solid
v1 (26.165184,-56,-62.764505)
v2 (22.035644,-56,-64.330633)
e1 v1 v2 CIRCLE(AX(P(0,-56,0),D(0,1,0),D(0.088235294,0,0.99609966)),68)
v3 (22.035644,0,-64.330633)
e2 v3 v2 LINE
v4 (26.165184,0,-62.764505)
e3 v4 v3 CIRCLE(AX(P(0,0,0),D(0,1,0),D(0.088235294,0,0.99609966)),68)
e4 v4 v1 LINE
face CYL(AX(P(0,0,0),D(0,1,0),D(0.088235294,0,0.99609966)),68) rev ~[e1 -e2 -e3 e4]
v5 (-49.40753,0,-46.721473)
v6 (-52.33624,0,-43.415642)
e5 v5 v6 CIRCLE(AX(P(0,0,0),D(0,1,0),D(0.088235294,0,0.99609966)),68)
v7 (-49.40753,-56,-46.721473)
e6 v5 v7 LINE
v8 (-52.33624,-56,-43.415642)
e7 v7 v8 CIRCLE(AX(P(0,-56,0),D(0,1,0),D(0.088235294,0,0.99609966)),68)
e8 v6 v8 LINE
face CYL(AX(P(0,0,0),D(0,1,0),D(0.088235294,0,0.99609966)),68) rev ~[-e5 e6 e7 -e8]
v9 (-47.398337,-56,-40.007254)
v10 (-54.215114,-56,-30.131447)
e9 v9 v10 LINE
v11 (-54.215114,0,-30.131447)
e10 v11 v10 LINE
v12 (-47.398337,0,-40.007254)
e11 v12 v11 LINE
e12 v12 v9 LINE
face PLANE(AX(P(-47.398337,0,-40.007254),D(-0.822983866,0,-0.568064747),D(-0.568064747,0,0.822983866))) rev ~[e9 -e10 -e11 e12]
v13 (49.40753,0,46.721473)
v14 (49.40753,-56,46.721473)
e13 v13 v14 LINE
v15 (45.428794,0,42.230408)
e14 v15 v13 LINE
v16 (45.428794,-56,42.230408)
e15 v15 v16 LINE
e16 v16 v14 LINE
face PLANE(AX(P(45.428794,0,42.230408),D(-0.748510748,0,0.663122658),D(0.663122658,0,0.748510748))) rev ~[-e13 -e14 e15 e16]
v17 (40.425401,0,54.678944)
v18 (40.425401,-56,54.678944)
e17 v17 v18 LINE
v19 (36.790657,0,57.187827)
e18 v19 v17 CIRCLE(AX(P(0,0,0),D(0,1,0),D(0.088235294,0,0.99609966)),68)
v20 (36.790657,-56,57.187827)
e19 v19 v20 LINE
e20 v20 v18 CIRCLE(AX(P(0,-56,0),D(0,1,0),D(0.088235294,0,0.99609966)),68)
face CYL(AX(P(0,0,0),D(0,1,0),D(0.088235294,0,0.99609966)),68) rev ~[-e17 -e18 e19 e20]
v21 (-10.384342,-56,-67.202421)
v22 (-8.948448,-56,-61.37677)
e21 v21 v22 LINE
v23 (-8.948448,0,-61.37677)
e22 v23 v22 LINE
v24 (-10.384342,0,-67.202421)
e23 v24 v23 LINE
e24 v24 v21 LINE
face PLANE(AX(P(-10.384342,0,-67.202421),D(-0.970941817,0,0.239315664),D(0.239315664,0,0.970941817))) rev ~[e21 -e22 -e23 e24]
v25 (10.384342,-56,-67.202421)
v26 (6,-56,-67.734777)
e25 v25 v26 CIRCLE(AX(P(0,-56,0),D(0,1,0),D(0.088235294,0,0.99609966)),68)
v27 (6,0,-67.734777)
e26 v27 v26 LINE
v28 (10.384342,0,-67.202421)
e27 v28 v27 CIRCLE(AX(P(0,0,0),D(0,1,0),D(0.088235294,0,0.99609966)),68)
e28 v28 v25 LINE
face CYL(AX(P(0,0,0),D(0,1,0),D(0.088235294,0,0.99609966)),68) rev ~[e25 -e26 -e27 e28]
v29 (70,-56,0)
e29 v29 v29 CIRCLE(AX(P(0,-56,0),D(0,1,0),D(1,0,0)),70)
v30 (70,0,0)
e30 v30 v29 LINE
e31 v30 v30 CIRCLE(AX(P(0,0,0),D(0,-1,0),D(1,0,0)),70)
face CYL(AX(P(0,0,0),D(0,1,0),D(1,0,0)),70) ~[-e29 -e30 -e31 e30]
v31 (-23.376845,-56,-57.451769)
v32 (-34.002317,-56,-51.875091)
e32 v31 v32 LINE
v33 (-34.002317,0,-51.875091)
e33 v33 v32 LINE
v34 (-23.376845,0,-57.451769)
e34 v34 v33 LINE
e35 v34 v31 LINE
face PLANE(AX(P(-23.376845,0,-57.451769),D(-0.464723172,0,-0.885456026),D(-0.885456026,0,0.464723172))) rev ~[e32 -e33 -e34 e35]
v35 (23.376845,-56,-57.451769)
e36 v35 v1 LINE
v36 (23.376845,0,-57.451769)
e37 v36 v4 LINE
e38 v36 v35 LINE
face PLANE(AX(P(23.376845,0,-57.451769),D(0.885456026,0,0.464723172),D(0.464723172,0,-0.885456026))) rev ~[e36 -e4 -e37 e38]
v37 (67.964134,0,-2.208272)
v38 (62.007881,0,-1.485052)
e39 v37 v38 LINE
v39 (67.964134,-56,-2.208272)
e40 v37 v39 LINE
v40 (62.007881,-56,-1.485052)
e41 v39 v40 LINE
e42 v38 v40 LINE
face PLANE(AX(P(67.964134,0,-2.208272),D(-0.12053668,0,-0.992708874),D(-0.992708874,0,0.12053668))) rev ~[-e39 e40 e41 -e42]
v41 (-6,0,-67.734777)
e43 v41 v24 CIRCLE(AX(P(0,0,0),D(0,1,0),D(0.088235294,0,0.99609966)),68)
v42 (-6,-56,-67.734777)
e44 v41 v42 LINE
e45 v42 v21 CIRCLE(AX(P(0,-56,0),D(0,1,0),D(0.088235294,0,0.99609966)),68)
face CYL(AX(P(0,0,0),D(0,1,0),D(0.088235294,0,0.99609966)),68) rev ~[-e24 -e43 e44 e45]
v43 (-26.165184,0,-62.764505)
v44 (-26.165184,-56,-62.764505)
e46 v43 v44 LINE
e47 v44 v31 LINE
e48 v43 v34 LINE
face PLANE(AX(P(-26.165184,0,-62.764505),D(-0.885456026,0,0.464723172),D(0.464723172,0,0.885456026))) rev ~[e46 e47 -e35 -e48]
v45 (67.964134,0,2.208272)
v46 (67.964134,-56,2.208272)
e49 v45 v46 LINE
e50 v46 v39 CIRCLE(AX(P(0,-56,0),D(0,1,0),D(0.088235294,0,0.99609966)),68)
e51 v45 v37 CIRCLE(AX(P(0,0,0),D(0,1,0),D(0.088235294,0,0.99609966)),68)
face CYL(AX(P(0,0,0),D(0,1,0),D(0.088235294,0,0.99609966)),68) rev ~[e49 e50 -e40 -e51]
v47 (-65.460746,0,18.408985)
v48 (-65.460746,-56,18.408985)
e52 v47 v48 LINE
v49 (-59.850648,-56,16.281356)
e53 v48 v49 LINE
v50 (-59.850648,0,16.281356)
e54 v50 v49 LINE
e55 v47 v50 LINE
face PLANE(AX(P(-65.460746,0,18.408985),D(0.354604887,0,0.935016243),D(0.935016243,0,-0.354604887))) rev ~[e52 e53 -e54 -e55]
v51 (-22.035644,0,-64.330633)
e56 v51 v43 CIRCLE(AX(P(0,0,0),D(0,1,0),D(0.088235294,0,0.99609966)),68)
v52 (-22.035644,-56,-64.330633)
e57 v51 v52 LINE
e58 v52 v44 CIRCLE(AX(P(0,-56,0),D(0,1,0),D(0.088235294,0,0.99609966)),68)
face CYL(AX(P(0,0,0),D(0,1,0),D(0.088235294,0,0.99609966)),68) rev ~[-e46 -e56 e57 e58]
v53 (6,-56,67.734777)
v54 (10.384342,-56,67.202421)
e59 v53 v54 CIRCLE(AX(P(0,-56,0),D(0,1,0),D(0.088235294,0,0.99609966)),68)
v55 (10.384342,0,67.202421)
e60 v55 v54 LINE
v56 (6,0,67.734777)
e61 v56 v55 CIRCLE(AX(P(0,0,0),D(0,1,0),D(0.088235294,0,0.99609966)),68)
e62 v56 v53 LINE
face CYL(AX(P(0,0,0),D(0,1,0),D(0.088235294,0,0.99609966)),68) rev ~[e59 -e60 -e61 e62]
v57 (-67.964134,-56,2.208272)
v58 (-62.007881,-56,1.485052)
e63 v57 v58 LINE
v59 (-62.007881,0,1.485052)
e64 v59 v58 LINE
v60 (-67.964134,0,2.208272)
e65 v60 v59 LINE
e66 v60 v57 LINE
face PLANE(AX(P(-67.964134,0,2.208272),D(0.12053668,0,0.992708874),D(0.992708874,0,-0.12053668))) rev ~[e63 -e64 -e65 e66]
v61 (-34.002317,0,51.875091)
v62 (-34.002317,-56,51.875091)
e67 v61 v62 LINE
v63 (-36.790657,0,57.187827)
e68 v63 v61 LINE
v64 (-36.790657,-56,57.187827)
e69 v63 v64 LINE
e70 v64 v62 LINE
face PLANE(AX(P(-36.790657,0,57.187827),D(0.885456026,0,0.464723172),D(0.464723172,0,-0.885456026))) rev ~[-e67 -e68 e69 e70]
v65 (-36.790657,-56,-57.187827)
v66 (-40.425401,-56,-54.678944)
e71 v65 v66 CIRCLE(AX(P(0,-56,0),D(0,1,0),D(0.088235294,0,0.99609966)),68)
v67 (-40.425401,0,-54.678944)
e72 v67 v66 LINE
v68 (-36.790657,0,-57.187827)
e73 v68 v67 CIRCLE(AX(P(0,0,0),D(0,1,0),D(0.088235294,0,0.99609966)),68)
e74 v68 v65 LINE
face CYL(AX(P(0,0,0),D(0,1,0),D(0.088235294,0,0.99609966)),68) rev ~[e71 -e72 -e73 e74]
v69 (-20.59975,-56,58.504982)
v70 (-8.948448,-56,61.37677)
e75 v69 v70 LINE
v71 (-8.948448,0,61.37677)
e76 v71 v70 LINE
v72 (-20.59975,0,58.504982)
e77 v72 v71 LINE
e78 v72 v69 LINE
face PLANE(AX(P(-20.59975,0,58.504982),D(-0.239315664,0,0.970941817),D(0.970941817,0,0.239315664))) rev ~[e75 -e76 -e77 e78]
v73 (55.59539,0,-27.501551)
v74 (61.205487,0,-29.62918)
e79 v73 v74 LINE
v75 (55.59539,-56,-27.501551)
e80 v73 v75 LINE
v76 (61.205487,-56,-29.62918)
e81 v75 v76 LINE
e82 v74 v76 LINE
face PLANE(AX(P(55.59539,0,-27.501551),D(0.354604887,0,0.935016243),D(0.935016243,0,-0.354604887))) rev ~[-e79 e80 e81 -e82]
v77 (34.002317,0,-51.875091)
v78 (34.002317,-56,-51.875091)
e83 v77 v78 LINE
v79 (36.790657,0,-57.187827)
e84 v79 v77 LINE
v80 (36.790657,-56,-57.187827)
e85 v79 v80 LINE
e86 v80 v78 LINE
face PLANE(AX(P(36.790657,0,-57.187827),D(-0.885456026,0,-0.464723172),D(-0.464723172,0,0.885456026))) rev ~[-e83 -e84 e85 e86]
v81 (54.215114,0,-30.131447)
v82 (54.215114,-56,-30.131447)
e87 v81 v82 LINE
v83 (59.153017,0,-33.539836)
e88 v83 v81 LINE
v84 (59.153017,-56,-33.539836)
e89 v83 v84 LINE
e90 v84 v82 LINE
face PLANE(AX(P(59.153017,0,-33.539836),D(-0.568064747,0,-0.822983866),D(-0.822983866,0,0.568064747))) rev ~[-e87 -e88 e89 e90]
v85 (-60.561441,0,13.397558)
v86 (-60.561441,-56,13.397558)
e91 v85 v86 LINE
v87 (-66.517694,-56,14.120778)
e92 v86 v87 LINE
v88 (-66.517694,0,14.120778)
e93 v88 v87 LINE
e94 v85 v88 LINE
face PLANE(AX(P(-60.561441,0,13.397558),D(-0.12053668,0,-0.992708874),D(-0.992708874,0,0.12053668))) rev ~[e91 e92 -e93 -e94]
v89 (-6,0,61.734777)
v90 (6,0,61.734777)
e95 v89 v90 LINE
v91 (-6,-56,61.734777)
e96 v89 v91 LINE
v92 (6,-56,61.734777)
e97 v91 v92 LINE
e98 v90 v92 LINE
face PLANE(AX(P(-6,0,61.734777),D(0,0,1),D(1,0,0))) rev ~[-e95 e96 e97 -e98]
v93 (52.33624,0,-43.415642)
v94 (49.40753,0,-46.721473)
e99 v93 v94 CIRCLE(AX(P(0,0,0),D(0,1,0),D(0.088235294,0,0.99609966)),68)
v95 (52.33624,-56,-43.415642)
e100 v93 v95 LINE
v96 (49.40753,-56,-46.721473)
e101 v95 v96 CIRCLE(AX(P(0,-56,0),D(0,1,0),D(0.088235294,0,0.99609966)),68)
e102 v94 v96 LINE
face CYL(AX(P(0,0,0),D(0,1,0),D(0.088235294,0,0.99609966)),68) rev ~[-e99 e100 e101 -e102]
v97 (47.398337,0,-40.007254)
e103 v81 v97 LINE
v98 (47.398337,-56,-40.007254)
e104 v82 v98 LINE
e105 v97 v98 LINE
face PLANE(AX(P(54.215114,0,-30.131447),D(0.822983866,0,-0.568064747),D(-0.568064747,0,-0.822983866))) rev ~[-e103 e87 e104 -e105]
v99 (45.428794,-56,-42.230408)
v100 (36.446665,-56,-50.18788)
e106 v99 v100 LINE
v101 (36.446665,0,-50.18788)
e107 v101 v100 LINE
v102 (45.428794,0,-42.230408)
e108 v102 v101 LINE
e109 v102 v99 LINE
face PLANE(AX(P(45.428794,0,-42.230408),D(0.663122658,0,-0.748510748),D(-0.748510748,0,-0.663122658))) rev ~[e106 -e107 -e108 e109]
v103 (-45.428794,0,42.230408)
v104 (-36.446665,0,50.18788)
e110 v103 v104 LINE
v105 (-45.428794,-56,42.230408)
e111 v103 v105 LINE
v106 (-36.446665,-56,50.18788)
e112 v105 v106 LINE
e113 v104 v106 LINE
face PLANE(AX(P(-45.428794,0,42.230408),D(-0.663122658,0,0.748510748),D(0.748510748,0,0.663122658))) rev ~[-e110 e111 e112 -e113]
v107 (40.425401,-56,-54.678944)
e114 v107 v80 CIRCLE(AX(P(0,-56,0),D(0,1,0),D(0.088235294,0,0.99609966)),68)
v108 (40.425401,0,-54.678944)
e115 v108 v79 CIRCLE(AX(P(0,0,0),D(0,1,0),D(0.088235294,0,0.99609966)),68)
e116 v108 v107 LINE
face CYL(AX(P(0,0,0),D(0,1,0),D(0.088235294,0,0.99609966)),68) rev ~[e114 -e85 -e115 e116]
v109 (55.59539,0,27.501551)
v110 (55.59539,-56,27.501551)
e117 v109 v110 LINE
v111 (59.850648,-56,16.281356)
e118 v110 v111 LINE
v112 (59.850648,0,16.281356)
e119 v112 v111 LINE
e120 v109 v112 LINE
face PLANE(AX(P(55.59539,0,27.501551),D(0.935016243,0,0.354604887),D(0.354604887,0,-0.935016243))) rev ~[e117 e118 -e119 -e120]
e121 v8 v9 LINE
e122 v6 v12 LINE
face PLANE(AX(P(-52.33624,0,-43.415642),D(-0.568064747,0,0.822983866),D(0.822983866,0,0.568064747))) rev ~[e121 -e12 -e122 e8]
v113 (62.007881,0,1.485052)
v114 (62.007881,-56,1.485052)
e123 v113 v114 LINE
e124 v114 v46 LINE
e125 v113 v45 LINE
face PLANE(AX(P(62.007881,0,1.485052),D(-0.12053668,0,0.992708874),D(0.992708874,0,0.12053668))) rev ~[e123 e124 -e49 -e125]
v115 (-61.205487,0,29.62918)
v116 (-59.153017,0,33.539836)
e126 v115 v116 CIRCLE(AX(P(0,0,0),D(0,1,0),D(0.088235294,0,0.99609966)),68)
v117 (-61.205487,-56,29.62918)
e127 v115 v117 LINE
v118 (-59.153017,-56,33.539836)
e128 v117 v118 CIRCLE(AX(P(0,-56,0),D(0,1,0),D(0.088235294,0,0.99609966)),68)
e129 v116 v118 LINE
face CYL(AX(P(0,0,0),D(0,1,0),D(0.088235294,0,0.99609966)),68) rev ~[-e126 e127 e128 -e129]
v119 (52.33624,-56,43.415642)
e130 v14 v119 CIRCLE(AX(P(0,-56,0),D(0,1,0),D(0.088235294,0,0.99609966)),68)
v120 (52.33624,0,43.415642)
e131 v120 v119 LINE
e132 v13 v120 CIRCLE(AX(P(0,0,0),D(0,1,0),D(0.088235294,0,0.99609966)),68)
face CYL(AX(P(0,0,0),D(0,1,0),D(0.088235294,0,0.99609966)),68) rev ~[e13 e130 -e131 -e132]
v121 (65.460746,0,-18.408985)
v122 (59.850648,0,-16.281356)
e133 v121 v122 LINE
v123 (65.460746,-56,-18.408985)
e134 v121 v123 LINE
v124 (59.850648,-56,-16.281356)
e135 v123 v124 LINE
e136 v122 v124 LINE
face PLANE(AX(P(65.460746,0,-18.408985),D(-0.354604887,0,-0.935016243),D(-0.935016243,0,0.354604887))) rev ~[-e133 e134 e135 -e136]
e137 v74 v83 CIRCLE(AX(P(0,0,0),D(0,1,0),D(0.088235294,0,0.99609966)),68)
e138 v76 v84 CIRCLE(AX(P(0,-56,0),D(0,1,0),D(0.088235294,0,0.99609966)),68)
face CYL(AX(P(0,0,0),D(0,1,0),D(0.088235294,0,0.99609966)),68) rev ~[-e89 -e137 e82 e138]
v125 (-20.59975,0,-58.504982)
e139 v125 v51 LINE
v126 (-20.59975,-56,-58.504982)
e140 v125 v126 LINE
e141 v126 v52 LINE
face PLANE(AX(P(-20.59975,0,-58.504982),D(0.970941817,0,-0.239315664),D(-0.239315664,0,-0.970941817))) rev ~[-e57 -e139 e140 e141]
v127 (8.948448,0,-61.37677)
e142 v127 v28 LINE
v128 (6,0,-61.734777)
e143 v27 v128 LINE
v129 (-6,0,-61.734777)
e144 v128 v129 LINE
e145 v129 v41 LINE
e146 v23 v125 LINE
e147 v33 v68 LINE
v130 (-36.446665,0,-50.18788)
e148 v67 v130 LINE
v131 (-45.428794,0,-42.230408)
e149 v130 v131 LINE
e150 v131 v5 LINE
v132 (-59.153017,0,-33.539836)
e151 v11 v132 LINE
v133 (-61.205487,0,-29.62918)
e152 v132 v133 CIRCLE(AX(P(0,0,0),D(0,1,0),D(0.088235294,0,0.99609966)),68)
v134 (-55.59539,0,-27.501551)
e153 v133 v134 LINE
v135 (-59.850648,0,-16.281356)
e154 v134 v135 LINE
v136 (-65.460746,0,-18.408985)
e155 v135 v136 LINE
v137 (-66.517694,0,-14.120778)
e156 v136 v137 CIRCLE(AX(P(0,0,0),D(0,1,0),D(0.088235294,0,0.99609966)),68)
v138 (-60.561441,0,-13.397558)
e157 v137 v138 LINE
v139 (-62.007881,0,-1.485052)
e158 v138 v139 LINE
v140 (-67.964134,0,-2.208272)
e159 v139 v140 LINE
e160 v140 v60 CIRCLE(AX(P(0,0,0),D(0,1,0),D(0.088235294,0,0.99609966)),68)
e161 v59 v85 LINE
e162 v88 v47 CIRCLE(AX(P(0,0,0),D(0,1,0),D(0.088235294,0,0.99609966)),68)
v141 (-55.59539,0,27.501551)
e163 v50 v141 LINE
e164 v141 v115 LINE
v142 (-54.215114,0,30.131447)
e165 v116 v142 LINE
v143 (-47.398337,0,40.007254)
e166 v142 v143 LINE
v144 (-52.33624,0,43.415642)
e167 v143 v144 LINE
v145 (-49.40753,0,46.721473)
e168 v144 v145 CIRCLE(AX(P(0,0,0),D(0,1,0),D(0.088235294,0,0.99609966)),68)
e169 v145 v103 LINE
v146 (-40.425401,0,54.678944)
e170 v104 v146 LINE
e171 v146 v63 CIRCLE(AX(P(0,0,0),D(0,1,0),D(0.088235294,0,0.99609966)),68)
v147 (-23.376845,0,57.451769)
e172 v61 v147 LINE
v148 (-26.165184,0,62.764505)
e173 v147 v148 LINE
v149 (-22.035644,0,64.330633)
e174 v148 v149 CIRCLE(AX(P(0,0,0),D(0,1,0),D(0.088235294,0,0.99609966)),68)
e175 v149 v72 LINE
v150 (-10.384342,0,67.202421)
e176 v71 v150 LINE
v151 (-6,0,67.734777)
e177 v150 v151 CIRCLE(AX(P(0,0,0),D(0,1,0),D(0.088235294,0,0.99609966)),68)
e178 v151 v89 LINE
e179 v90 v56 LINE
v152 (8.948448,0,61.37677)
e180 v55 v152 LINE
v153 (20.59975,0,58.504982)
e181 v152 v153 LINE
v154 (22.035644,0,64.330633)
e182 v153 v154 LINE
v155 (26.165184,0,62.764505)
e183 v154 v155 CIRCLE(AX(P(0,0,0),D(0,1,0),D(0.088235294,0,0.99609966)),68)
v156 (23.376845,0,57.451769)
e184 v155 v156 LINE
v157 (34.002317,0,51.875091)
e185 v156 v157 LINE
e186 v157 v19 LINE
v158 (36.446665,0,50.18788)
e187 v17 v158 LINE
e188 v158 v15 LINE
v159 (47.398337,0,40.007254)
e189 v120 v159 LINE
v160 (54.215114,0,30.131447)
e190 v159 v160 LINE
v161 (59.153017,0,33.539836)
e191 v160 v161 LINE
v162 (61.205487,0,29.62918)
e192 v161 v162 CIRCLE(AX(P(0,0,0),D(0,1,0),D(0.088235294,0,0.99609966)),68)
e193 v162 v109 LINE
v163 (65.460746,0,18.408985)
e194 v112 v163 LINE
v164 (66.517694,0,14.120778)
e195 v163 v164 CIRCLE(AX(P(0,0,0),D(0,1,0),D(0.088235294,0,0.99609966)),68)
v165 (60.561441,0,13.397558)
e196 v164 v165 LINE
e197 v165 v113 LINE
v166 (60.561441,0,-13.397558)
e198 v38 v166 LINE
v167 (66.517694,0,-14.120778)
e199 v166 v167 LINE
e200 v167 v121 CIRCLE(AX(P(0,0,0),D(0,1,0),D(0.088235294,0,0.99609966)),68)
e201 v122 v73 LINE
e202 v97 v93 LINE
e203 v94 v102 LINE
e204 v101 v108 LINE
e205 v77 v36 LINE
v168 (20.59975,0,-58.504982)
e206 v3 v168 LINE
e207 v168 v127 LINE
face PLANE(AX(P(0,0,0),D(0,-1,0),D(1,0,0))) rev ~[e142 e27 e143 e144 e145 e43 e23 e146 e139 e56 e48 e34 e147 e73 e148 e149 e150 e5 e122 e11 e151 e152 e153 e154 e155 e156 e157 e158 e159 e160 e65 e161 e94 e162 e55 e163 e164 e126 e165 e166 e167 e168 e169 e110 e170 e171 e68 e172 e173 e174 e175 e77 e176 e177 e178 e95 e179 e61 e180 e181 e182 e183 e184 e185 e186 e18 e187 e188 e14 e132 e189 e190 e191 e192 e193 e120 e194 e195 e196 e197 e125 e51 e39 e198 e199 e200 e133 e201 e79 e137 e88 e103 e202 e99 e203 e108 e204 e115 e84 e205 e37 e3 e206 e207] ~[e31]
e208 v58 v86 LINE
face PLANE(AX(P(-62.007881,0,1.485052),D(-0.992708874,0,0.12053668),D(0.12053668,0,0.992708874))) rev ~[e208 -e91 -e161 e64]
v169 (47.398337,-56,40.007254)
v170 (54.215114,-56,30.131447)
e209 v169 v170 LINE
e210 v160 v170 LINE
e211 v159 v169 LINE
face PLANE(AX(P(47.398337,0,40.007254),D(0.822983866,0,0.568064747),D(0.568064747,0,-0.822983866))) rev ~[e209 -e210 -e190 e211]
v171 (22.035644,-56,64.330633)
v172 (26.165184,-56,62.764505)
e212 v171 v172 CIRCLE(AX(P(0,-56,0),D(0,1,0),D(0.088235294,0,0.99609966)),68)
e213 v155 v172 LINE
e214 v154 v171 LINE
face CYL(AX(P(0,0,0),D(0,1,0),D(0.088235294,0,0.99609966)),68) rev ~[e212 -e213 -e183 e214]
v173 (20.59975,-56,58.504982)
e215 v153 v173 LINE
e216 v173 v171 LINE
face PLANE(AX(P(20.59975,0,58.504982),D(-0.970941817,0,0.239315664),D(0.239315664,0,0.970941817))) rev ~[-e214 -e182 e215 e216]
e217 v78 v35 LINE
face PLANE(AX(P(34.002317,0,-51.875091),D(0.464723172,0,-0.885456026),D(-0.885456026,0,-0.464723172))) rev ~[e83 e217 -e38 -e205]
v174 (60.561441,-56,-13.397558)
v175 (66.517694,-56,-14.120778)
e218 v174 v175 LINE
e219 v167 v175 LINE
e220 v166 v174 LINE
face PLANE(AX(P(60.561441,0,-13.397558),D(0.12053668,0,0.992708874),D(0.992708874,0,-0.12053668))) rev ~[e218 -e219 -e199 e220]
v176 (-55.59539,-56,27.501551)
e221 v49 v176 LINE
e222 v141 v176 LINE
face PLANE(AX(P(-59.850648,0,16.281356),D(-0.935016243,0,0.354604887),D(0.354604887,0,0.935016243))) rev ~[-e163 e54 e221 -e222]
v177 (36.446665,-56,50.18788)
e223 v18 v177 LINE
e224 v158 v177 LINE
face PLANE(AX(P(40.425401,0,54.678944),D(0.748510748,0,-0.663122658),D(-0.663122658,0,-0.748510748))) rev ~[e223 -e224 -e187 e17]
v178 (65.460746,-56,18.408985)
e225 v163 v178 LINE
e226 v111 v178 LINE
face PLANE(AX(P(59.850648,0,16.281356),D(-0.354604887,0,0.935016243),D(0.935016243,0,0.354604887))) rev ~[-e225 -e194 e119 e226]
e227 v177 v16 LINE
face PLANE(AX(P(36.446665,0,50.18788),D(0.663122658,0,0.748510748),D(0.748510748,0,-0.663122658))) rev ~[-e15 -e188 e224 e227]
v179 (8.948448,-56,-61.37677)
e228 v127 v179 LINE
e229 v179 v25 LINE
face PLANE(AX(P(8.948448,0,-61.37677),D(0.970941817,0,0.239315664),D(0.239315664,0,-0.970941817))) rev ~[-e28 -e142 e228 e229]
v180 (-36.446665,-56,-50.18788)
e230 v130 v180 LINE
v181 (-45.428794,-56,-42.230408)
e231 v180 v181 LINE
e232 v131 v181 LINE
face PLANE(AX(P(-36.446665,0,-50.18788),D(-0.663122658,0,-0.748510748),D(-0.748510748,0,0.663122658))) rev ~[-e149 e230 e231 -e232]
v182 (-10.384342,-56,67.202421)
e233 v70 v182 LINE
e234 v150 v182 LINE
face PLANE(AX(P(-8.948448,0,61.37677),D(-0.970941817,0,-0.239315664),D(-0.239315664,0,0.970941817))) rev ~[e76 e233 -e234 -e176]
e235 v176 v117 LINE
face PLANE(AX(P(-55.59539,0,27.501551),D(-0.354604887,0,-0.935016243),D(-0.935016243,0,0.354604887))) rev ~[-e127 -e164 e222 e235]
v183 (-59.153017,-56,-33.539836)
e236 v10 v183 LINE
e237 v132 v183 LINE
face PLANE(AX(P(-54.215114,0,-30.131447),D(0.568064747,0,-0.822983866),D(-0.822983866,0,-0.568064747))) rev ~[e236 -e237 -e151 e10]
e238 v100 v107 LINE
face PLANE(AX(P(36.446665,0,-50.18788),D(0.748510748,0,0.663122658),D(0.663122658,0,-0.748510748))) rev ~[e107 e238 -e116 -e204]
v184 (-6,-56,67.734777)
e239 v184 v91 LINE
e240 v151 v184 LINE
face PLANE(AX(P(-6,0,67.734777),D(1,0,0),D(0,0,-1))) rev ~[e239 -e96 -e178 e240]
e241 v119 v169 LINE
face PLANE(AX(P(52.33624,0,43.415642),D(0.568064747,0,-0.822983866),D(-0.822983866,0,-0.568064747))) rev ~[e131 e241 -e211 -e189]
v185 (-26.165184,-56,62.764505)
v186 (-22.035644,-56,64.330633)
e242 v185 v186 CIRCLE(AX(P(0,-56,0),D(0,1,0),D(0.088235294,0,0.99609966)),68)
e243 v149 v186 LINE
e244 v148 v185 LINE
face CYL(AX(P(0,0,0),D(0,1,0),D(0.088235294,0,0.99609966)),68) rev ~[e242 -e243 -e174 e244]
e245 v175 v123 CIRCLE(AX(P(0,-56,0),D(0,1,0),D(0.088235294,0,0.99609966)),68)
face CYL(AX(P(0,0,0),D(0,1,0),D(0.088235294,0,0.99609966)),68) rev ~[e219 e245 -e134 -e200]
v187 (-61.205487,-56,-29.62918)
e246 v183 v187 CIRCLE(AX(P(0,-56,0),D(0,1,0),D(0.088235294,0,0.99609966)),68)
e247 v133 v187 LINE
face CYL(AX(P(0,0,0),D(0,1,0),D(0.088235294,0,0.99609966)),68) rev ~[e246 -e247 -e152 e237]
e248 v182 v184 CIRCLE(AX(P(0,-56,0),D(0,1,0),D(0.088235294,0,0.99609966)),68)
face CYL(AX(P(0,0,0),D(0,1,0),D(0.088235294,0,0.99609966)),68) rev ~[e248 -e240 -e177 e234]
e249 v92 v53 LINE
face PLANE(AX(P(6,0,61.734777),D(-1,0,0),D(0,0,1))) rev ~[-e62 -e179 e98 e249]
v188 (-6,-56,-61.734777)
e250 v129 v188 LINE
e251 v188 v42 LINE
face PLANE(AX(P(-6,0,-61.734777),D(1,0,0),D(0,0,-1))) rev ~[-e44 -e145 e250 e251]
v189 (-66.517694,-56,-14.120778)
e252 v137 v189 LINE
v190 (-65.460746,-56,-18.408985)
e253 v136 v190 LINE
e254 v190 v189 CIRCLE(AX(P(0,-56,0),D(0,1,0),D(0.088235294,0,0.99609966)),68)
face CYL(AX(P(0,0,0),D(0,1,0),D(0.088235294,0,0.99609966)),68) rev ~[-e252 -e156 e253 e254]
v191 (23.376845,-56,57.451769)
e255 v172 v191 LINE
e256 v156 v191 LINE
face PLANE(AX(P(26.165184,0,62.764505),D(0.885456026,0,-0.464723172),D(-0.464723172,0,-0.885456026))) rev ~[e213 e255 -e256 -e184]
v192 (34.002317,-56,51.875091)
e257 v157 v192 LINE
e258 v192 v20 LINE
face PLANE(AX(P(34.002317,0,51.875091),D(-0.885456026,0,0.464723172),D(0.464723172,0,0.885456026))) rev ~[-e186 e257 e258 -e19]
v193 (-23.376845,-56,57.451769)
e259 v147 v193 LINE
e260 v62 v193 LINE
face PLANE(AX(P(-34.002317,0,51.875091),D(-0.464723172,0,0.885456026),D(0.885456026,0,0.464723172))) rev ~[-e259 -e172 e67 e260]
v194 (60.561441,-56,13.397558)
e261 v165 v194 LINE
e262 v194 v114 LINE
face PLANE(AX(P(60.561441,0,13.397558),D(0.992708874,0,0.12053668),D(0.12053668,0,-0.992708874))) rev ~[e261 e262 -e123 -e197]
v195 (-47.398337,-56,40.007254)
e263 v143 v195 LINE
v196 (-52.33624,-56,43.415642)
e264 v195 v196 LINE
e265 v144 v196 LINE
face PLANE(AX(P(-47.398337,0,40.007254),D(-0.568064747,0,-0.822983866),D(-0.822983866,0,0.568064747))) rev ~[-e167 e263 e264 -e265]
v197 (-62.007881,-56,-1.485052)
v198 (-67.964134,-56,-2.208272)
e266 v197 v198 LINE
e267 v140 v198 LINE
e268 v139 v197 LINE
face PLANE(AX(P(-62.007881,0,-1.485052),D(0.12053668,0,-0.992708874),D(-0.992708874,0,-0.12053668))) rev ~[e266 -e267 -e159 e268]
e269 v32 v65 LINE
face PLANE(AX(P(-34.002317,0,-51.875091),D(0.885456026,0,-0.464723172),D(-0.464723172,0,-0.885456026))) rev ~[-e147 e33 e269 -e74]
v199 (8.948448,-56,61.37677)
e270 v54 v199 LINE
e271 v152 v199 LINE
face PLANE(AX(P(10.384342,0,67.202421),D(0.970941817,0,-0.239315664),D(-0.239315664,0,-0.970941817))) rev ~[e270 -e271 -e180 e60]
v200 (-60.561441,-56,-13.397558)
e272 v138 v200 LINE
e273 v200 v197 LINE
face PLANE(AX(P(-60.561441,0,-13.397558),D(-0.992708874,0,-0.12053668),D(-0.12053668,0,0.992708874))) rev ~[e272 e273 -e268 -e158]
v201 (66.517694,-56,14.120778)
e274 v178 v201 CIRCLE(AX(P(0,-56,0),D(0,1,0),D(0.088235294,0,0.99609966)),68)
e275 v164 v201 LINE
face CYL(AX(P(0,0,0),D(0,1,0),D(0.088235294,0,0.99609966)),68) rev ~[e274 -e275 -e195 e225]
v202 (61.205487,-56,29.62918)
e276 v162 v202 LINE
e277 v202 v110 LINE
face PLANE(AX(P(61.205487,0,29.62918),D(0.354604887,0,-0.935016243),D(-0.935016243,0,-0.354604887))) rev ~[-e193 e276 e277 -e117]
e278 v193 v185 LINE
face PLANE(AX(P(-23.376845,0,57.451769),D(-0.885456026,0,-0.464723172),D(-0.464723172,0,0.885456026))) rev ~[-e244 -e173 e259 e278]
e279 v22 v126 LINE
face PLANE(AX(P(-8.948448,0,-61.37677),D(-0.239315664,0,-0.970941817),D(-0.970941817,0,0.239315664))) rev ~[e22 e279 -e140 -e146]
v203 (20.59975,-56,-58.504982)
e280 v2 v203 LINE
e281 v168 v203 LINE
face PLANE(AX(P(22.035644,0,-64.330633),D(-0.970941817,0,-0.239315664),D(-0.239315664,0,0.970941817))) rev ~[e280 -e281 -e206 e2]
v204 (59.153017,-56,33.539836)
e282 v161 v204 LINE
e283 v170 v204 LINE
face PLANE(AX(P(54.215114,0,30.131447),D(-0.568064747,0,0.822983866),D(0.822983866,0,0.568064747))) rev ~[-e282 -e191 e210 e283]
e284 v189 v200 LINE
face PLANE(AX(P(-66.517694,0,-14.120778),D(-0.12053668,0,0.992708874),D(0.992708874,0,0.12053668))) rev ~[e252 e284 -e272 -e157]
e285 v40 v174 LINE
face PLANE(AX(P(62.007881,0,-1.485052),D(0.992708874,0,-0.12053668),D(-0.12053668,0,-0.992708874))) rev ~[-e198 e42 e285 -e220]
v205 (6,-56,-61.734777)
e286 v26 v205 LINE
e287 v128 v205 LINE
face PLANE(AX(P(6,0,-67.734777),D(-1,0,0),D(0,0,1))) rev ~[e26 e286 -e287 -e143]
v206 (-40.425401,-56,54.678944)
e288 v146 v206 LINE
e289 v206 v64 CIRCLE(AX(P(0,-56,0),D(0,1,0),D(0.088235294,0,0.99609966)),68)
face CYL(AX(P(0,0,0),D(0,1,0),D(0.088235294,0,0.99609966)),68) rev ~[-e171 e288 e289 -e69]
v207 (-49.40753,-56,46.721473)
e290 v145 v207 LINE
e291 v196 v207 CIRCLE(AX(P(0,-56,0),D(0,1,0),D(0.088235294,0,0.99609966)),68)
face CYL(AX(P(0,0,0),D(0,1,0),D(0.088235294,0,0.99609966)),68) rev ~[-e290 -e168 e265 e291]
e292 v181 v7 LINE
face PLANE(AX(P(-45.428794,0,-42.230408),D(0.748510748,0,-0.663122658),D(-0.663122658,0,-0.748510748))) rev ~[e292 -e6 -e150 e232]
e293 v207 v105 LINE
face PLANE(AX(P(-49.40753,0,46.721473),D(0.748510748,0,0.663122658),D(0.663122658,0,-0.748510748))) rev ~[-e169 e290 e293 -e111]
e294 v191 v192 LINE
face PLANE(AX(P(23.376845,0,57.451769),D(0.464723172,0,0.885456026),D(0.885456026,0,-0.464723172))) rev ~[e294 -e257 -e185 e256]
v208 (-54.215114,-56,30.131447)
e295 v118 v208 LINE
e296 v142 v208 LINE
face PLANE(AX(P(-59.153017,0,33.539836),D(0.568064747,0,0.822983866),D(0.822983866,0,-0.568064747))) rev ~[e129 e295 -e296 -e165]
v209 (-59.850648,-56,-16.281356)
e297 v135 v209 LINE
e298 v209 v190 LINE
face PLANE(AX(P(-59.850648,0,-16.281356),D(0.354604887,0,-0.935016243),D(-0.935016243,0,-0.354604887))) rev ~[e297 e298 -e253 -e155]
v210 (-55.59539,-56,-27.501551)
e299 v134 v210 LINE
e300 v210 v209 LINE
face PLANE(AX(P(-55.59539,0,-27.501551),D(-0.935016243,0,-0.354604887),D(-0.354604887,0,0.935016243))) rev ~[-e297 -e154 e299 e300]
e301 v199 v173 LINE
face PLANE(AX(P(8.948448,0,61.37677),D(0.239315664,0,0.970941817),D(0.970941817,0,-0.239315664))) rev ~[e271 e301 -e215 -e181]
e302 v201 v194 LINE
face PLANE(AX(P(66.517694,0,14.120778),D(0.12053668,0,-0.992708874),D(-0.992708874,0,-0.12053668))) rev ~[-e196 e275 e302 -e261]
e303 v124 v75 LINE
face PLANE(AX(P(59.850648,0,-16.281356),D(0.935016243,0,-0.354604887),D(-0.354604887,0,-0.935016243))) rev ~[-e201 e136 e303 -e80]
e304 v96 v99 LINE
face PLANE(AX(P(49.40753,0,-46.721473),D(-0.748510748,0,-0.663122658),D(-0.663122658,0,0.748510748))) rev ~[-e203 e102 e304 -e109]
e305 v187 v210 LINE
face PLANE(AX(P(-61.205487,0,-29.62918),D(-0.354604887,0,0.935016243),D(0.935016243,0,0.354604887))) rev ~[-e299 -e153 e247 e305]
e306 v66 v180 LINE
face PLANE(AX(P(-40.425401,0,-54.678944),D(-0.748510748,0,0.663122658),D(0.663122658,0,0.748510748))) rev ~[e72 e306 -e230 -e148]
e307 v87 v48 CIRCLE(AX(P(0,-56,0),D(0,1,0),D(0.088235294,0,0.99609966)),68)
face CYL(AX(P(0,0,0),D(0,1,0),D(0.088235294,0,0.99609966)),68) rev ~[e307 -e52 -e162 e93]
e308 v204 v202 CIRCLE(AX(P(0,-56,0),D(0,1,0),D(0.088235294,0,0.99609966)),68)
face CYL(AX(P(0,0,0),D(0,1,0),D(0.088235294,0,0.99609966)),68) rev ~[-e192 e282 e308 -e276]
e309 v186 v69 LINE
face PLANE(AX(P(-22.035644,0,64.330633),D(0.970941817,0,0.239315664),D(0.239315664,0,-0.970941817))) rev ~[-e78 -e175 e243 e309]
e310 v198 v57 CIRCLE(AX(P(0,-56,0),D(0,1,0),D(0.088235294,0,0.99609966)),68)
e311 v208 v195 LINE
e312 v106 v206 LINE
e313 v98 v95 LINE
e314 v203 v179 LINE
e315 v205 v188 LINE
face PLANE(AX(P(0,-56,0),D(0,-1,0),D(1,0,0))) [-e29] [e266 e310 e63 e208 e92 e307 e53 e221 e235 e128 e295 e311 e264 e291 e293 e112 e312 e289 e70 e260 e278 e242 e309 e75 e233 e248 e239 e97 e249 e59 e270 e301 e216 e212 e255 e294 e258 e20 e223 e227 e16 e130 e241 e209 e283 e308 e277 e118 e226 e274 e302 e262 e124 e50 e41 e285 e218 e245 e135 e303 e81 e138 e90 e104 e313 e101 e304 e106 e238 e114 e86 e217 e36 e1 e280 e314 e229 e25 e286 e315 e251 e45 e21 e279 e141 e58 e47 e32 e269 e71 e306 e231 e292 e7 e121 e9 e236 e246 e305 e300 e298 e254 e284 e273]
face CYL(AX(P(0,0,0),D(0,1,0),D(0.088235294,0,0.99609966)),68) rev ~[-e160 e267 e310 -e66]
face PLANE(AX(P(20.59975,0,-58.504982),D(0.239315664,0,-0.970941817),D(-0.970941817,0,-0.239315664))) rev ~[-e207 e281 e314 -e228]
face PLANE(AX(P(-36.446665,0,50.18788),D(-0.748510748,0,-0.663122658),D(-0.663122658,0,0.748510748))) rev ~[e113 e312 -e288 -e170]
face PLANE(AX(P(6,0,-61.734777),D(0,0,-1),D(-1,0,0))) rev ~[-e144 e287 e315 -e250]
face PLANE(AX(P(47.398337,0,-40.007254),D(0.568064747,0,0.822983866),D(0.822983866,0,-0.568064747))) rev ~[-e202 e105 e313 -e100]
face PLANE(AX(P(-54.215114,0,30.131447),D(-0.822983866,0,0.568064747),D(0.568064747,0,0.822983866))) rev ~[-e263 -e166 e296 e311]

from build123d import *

# Parameters (mm, degrees)
F0_R     = 70
F1_DEPTH = 56
F2_COUNT = 26


with BuildPart() as f1:
    # F0 (on Front) → F1 (new body)
    with BuildSketch(Plane.XZ):
        Circle(F0_R)
        with BuildLine():
            ThreePointArc((6, 67.7347768875), (0, -68), (-6, 67.7347768875))
            Line((-6, 67.7347768875), (-6, 61.7347768875))
            Line((-6, 61.7347768875), (6, 61.7347768875))
            Line((6, 61.7347768875), (6, 67.7347768875))
        make_face(mode=Mode.SUBTRACT)
    extrude(amount=F1_DEPTH)

    # F2: F1 ×26 about axis
    f2_axis = Axis((0, 0, 0), (0, 1, 0))


with BuildPart() as f1_1:
    add(f1.part)
    for i in range(1, F2_COUNT):
        add(f1.part.rotate(f2_axis, i * 360 / F2_COUNT))


solid = f1_1.part
